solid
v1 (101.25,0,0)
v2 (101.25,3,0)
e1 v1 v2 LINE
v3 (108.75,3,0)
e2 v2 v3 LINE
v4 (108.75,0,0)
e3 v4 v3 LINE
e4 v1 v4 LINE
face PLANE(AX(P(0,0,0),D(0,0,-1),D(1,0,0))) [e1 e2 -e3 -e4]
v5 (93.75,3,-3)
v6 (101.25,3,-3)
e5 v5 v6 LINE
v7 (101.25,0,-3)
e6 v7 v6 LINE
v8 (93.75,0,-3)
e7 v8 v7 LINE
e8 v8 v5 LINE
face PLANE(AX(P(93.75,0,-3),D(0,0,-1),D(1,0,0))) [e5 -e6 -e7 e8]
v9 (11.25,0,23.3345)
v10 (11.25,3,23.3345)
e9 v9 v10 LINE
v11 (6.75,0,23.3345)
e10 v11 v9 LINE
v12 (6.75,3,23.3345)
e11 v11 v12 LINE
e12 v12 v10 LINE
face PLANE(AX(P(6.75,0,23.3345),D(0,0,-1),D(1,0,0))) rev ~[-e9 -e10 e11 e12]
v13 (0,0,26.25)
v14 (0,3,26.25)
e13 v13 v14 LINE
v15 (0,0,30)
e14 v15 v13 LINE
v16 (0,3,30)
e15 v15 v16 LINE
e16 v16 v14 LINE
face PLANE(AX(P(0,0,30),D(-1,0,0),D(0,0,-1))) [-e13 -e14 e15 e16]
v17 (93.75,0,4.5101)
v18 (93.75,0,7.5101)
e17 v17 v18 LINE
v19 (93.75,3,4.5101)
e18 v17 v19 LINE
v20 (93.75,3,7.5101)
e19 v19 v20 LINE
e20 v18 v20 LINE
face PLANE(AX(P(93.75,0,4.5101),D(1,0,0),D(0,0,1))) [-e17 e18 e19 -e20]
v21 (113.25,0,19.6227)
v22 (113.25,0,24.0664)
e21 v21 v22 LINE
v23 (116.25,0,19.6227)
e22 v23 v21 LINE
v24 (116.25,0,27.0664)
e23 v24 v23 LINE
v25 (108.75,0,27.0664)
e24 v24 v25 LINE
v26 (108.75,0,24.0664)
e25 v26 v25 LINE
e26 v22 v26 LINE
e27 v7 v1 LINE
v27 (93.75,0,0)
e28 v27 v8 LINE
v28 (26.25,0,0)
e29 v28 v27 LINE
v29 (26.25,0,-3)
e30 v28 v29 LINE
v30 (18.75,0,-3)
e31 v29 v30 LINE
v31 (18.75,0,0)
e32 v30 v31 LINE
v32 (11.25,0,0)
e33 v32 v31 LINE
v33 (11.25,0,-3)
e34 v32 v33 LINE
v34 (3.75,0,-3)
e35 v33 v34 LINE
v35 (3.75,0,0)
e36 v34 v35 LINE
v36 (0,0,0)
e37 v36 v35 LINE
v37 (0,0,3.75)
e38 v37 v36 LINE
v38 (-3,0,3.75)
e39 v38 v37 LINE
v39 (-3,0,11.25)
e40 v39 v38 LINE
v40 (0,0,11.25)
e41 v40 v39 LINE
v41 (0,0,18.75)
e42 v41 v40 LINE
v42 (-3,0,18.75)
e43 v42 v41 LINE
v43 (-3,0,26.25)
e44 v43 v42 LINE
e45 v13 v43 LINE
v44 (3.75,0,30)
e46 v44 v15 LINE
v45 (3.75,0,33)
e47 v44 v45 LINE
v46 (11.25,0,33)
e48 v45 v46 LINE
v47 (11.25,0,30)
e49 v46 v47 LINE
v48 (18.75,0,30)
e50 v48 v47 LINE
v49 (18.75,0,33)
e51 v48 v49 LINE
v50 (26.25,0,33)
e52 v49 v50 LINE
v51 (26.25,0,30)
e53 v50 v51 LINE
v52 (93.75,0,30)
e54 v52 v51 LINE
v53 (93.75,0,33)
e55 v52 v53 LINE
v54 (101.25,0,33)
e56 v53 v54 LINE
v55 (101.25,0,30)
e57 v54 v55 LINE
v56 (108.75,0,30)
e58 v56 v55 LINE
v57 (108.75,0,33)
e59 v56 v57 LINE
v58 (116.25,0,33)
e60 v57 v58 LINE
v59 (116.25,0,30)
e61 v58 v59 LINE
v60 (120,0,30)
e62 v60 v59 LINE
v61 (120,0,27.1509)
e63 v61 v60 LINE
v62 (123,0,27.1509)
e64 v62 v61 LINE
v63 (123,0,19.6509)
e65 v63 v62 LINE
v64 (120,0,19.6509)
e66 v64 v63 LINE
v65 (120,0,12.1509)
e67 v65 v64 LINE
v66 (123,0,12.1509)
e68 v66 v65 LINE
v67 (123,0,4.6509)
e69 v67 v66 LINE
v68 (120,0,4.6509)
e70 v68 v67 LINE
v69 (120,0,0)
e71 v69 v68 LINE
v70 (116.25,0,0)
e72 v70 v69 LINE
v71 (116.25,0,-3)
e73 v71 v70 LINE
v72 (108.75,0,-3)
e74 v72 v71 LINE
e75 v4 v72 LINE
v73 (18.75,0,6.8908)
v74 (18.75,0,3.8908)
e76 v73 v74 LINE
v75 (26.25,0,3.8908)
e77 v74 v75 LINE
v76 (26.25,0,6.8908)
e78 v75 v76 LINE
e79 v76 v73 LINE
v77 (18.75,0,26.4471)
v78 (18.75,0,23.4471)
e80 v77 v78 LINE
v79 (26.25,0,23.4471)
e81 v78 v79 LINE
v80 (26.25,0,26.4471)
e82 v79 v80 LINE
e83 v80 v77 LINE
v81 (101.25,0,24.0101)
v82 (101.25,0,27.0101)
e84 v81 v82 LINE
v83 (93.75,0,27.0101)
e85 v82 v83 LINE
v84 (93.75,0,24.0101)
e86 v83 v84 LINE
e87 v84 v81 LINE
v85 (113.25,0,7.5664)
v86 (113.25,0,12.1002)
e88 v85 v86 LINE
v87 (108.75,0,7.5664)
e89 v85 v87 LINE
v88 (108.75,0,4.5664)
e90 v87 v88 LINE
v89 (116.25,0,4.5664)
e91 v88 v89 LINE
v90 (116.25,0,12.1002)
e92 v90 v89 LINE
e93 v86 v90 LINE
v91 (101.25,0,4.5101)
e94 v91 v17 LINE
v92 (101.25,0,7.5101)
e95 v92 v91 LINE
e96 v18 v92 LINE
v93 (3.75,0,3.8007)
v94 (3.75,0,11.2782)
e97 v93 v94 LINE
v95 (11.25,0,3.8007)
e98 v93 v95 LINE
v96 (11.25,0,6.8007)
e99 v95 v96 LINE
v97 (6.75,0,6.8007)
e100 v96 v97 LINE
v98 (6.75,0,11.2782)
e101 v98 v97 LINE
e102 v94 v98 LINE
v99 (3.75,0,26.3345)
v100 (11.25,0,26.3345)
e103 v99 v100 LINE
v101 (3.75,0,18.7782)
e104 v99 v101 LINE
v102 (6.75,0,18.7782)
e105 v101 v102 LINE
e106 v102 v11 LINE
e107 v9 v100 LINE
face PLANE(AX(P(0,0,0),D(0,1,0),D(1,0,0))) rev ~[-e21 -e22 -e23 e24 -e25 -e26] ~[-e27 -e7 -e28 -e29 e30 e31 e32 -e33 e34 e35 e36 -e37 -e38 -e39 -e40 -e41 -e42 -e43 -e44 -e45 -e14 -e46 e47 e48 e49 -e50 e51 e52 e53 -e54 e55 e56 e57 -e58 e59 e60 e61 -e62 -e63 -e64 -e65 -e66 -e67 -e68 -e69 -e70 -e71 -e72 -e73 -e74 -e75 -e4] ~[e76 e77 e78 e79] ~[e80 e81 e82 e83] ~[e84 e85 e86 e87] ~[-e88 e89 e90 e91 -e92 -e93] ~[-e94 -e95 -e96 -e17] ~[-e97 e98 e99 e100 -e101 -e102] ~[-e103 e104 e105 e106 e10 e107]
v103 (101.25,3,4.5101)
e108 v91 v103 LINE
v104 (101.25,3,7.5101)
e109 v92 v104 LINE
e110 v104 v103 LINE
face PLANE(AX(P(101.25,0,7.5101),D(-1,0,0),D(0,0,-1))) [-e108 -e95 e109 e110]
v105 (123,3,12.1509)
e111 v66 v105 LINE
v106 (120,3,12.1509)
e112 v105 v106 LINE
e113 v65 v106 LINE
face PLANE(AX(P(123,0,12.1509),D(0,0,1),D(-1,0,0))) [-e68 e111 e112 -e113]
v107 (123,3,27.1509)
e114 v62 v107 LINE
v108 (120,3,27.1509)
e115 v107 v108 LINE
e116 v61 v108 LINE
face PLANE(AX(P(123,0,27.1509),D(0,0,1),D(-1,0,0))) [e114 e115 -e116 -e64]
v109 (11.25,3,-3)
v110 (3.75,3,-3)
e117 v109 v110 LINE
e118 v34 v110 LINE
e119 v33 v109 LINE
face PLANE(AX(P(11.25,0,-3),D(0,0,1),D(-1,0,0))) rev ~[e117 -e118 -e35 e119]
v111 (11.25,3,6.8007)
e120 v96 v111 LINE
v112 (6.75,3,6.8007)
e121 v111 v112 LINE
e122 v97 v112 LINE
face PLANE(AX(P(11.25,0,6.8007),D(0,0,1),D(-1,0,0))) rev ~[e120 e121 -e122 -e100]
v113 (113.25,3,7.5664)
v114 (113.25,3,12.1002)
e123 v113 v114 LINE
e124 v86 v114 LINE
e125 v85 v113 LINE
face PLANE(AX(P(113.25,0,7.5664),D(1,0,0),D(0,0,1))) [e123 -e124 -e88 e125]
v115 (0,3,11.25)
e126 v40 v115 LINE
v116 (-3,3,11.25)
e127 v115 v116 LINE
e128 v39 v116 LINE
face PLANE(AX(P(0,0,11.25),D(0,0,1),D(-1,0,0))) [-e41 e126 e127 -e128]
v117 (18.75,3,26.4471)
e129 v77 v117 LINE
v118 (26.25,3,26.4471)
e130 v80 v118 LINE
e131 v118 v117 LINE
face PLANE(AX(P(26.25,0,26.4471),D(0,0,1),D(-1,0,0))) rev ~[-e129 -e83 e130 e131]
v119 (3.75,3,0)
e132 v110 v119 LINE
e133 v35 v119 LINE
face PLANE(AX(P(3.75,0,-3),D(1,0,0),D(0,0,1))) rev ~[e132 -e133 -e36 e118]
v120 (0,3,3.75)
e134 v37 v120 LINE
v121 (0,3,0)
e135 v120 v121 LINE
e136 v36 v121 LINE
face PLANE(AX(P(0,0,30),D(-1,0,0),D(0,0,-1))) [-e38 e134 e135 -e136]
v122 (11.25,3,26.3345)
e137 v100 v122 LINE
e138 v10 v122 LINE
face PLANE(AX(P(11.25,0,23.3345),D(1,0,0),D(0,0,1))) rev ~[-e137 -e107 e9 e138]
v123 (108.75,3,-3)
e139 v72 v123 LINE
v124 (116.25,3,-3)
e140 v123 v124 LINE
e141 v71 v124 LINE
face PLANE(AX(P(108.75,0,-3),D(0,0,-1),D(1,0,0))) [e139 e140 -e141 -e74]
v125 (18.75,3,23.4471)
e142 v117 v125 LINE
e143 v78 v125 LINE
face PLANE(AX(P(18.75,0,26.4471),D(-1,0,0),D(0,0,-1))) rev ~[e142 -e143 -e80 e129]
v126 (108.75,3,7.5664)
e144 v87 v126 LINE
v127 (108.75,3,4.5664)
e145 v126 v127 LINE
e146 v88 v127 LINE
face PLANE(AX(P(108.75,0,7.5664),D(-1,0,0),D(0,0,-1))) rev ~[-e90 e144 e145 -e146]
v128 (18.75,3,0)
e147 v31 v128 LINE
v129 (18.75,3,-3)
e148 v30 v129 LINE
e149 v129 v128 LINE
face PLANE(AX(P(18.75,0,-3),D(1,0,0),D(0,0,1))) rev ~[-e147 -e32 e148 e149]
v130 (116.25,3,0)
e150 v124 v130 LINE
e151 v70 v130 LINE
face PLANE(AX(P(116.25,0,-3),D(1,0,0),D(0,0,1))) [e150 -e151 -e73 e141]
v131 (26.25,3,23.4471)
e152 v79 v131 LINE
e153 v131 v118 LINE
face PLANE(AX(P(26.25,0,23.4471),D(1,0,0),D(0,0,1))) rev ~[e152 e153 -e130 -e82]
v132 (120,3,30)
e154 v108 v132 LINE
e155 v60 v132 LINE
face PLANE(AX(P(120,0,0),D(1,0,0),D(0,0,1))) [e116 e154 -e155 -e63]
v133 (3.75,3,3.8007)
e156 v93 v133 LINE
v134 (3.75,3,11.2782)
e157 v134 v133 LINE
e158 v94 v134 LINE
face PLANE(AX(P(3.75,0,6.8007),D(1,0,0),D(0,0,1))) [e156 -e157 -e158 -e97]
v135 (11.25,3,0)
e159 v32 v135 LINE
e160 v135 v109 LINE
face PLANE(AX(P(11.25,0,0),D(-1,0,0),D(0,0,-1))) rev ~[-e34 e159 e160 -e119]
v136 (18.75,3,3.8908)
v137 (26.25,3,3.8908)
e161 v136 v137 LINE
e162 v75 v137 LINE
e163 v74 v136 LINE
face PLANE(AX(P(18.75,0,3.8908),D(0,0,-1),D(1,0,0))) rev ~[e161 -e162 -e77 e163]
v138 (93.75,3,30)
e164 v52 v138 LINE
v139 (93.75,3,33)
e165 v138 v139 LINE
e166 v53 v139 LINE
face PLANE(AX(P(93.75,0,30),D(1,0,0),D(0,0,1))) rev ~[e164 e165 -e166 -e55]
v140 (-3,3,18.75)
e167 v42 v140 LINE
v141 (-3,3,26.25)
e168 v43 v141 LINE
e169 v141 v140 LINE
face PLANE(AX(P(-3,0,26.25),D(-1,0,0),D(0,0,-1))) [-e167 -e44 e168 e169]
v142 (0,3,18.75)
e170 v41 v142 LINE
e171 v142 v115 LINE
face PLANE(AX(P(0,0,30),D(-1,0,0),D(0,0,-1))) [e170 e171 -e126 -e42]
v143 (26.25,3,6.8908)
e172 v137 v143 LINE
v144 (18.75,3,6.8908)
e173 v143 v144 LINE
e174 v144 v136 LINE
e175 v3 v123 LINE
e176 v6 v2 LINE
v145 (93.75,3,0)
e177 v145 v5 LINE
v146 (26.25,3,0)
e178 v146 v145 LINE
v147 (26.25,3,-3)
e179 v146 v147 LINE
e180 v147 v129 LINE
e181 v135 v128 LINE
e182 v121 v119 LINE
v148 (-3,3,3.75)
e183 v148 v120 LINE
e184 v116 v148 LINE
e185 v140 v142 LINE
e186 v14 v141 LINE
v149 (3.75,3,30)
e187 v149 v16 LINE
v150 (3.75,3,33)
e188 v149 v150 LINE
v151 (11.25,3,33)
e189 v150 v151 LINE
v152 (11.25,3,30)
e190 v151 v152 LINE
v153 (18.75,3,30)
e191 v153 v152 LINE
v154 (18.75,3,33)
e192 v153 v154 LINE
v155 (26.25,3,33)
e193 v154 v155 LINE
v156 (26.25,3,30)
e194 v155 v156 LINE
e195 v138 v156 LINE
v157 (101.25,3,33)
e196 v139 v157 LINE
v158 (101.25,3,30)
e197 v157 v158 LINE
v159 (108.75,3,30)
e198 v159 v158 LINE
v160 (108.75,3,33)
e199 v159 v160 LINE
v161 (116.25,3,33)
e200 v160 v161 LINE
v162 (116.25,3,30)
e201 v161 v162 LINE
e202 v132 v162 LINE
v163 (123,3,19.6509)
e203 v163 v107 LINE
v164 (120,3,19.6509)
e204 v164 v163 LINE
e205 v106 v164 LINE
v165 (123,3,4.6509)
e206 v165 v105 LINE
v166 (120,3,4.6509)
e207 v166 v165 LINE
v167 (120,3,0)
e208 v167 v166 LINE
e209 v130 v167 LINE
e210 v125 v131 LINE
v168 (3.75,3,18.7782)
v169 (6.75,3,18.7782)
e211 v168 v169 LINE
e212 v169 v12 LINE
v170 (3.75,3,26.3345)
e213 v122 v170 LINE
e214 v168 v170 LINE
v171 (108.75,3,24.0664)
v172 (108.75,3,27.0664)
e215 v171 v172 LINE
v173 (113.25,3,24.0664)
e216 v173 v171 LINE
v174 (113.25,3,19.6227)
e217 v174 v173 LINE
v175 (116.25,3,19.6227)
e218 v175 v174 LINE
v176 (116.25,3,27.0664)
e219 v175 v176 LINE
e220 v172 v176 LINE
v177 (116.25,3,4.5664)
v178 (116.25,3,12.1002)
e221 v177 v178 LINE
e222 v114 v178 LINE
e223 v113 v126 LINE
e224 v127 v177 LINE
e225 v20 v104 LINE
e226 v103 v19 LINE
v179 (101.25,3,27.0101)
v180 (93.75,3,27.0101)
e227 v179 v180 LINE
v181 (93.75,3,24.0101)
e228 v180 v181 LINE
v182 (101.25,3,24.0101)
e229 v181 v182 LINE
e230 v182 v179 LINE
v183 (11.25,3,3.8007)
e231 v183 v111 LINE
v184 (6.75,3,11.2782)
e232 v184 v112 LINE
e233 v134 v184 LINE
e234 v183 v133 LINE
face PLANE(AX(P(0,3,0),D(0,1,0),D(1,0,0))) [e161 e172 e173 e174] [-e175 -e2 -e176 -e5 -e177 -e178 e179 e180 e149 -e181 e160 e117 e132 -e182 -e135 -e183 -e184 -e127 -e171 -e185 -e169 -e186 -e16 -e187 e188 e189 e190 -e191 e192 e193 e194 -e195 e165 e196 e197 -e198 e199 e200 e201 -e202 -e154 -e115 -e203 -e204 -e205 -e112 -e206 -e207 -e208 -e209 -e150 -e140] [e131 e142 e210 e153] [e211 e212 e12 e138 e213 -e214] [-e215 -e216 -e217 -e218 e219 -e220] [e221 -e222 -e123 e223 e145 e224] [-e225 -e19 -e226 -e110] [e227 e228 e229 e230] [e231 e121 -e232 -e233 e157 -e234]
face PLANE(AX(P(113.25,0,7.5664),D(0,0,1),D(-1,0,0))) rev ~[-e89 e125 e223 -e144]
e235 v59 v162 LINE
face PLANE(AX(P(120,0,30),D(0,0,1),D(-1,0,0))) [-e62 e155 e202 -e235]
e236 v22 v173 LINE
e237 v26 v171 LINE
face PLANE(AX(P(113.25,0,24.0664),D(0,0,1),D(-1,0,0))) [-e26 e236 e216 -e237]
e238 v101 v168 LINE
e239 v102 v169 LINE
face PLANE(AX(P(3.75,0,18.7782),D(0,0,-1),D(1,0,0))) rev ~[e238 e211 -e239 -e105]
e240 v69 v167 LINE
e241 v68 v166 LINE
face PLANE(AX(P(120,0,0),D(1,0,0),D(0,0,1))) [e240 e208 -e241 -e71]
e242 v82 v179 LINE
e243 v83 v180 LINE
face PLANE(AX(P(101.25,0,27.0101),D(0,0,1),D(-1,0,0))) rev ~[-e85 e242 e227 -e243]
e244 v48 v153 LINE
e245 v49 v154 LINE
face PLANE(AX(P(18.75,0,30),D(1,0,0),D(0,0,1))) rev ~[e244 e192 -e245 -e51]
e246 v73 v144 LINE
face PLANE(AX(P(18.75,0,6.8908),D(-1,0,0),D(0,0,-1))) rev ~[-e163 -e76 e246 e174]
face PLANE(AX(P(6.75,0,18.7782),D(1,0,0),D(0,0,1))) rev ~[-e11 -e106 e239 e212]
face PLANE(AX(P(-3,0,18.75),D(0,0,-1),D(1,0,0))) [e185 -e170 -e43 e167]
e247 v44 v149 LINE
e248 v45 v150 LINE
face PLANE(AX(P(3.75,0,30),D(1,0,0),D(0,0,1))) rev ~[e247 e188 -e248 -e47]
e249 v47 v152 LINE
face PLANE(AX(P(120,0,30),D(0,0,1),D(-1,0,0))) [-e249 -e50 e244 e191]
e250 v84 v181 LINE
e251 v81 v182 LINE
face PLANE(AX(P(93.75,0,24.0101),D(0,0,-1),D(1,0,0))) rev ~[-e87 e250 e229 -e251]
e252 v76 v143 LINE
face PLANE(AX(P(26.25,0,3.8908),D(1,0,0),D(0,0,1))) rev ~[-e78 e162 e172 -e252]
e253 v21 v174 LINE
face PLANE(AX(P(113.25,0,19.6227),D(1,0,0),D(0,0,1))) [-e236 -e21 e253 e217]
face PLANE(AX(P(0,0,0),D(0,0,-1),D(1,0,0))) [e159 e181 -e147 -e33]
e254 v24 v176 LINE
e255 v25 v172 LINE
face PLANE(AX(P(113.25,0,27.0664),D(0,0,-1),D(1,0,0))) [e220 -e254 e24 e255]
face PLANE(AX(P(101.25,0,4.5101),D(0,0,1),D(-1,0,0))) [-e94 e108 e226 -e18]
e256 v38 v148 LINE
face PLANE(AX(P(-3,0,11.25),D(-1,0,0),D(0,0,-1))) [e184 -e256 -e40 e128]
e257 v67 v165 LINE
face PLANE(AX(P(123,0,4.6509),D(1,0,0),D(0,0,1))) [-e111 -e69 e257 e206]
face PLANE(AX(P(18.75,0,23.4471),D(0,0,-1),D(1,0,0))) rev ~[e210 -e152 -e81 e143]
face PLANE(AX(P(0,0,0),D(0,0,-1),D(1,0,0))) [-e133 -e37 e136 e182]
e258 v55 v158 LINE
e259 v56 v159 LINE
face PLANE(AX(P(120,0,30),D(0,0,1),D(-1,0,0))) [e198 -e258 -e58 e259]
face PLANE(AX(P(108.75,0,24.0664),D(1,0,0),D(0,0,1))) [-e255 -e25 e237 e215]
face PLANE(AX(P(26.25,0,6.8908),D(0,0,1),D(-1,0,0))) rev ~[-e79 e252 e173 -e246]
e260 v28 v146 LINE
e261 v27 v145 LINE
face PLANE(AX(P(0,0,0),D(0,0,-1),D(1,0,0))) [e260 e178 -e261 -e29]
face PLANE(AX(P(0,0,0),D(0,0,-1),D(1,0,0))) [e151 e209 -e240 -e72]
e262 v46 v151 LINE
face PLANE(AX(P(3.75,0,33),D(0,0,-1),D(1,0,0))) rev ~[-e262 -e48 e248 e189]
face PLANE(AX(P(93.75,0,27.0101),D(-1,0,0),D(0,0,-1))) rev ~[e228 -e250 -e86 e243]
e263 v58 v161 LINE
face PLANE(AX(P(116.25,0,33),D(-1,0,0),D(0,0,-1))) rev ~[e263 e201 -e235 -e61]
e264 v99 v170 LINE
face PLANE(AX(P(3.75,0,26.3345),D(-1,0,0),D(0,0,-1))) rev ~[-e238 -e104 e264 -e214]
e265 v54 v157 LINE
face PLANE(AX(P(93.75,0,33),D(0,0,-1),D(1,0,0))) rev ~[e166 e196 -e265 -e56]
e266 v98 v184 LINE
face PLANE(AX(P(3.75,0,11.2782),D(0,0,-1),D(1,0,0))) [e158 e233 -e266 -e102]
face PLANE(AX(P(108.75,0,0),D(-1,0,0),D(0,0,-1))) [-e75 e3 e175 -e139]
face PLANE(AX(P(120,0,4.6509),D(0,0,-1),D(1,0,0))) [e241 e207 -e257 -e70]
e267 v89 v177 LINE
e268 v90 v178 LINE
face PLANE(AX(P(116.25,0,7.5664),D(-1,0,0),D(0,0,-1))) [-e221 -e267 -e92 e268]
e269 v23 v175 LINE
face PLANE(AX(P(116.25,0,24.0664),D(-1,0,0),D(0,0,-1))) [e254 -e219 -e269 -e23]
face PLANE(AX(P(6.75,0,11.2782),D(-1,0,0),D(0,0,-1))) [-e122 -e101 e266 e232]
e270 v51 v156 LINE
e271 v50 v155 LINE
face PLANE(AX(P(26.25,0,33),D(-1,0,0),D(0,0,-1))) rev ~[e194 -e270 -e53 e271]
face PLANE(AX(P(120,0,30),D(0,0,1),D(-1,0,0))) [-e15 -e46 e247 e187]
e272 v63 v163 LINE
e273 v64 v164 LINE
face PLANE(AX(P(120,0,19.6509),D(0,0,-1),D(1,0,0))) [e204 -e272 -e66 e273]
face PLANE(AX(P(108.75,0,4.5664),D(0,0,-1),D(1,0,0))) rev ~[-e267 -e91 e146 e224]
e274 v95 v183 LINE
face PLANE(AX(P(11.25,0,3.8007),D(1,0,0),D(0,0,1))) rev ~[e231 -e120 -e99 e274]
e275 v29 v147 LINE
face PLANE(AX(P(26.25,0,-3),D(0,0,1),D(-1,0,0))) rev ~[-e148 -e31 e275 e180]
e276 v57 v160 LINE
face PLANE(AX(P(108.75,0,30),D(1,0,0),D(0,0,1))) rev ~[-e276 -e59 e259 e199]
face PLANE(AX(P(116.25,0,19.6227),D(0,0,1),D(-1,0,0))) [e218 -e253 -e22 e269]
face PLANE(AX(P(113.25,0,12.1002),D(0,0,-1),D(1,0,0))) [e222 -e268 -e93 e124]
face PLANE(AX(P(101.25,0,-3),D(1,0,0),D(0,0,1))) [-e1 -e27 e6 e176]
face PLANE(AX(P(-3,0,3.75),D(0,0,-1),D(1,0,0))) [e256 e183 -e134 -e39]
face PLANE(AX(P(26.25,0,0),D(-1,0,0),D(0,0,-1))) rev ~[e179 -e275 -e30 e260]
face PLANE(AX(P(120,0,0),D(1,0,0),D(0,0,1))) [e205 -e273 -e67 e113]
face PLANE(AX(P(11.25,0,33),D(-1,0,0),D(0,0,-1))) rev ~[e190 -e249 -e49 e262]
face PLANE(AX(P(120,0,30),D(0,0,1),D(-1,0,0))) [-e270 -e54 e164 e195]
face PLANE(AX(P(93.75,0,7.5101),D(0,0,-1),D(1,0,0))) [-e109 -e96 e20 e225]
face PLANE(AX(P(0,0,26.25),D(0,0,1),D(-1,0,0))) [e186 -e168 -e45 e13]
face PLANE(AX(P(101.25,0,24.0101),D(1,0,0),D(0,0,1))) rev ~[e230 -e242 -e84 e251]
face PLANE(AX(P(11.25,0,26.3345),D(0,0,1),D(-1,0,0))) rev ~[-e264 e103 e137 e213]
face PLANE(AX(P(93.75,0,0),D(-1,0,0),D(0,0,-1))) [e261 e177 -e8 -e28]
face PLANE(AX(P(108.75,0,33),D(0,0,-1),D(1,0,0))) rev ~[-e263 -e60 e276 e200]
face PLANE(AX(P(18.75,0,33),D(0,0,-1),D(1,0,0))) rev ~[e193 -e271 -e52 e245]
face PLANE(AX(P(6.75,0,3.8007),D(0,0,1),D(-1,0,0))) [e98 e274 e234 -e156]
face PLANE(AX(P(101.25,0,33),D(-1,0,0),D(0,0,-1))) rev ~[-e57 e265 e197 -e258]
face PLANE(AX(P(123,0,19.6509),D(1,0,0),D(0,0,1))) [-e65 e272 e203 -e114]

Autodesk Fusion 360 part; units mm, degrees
sketch "Sketch1" plane through (0, 0, 0) normal (0, 1, 0) x (1, 0, 0)
  line L0 (0, 0) -> (120, 0)
  line L1 (120, 0) -> (120, -30)
  line L2 (120, -30) -> (0, -30)
  line L3 (0, -30) -> (0, 0)
  dimension "d3" = 120
  dimension "d4" = 30
extrude "Extrude1" add sketch "Sketch1" along normal blind 3
sketch "Sketch3" plane through (0, 0, 0) normal (0, 1, 0) x (1, 0, 0)
  line L0 (120, -30) -> (0, -30)
  line L1 (0, -30) -> (0, 0)
  line L2 (0, 0) -> (120, 0)
  line L3 (120, 0) -> (120, -30)
  line L4 (0, -26.25) -> (-3, -26.25)
  line L5 (-3, -26.25) -> (-3, -18.75)
  line L6 (-3, -18.75) -> (0, -18.75)
  line L7 (0, -18.75) -> (0, -26.25)
  line L8 (0, -11.25) -> (-3, -11.25)
  line L9 (-3, -11.25) -> (-3, -3.75)
  line L10 (-3, -3.75) -> (0, -3.75)
  line L11 (0, -3.75) -> (0, -11.25)
  line L12 (3.75, 0) -> (11.25, 0)
  line L13 (11.25, 0) -> (11.25, 3)
  line L14 (11.25, 3) -> (3.75, 3)
  line L15 (3.75, 3) -> (3.75, 0)
  line L16 (18.75, 0) -> (26.25, 0)
  line L17 (26.25, 0) -> (26.25, 3)
  line L18 (26.25, 3) -> (18.75, 3)
  line L19 (18.75, 3) -> (18.75, 0)
  line L20 (116.25, 0) -> (108.75, 0)
  line L21 (108.75, 0) -> (108.75, 3)
  line L22 (108.75, 3) -> (116.25, 3)
  line L23 (116.25, 3) -> (116.25, 0)
  line L24 (101.25, 0) -> (93.75, 0)
  line L25 (93.75, 0) -> (93.75, 3)
  line L26 (93.75, 3) -> (101.25, 3)
  line L27 (101.25, 3) -> (101.25, 0)
  line L28 (120, -4.6509) -> (123, -4.6509)
  line L29 (123, -4.6509) -> (123, -12.1509)
  line L30 (123, -12.1509) -> (120, -12.1509)
  line L31 (120, -12.1509) -> (120, -4.6509)
  line L32 (120, -19.6509) -> (123, -19.6509)
  line L33 (123, -19.6509) -> (123, -27.1509)
  line L34 (123, -27.1509) -> (120, -27.1509)
  line L35 (120, -27.1509) -> (120, -19.6509)
  line L36 (116.25, -30) -> (108.75, -30)
  line L37 (108.75, -30) -> (108.75, -33)
  line L38 (108.75, -33) -> (116.25, -33)
  line L39 (116.25, -33) -> (116.25, -30)
  line L40 (101.25, -30) -> (93.75, -30)
  line L41 (93.75, -30) -> (93.75, -33)
  line L42 (93.75, -33) -> (101.25, -33)
  line L43 (101.25, -33) -> (101.25, -30)
  line L44 (26.25, -30) -> (18.75, -30)
  line L45 (18.75, -30) -> (18.75, -33)
  line L46 (18.75, -33) -> (26.25, -33)
  line L47 (26.25, -33) -> (26.25, -30)
  line L48 (11.25, -30) -> (3.75, -30)
  line L49 (3.75, -30) -> (3.75, -33)
  line L50 (3.75, -33) -> (11.25, -33)
  line L51 (11.25, -33) -> (11.25, -30)
  line L52 (3.75, 3) -> (0, 3) construction
  line L53 (11.25, 3) -> (18.75, 3) construction
  line L54 (101.25, 3) -> (108.75, 3) construction
  line L55 (116.25, 3) -> (120, 3) construction
  line L56 (120, 0) -> (120, -4.6509) construction
  line L57 (123, -12.1509) -> (123, -19.6509) construction
  line L58 (108.75, -33) -> (101.25, -33) construction
  line L59 (120, -30) -> (116.25, -30) construction
  dimension "d10" = 3
  dimension "d11" = 7.5
  dimension "d13" = 3
  dimension "d14" = 3.75
  dimension "d15" = 3.75
  dimension "d16" = 7.5
  dimension "d17" = 7.5
  dimension "d18" = 3.75
  dimension "d19" = 3.75
  dimension "d20" = 7.5
  dimension "d21" = 7.5
  dimension "d22" = 3.75
  dimension "d23" = 7.5
  dimension "d24" = 7.5
  dimension "d25" = 3.75
extrude "Extrude2" add sketch "Sketch3" along normal blind 3 contours L0 L36 L37 L38 L39 | L3 L32 L33 L34 L35 | L0 L40 L41 L42 L43 | L3 L28 L29 L30 L31 | L0 L44 L45 L46 L47 | L2 L20 L21 L22 L23 | L0 L48 L49 L50 L51 | L2 L24 L25 L26 L27 | L1 L4 L5 L6 L7 | L2 L16 L17 L18 L19 | L1 L8 L9 L10 L11 | L2 L12 L13 L14 L15
sketch "Sketch4" plane through (0, 0, 0) normal (0, 1, 0) x (1, 0, 0)
  line L0 (120, -30) -> (116.25, -30)
  line L1 (116.25, -30) -> (116.25, -33)
  line L2 (116.25, -33) -> (108.75, -33)
  line L3 (108.75, -33) -> (108.75, -30)
  line L4 (108.75, -30) -> (101.25, -30)
  line L5 (101.25, -30) -> (101.25, -33)
  line L6 (101.25, -33) -> (93.75, -33)
  line L7 (93.75, -33) -> (93.75, -30)
  line L8 (93.75, -30) -> (26.25, -30)
  line L9 (26.25, -30) -> (26.25, -33)
  line L10 (26.25, -33) -> (18.75, -33)
  line L11 (18.75, -33) -> (18.75, -30)
  line L12 (18.75, -30) -> (11.25, -30)
  line L13 (11.25, -30) -> (11.25, -33)
  line L14 (11.25, -33) -> (3.75, -33)
  line L15 (3.75, -33) -> (3.75, -30)
  line L16 (3.75, -30) -> (0, -30)
  line L17 (0, -30) -> (0, -26.25)
  line L18 (0, -26.25) -> (-3, -26.25)
  line L19 (-3, -26.25) -> (-3, -18.75)
  line L20 (-3, -18.75) -> (0, -18.75)
  line L21 (0, -18.75) -> (0, -11.25)
  line L22 (0, -11.25) -> (-3, -11.25)
  line L23 (-3, -11.25) -> (-3, -3.75)
  line L24 (-3, -3.75) -> (0, -3.75)
  line L25 (0, -3.75) -> (0, 0)
  line L26 (0, 0) -> (3.75, 0)
  line L27 (3.75, 0) -> (3.75, 3)
  line L28 (3.75, 3) -> (11.25, 3)
  line L29 (11.25, 3) -> (11.25, 0)
  line L30 (11.25, 0) -> (18.75, 0)
  line L31 (18.75, 0) -> (18.75, 3)
  line L32 (18.75, 3) -> (26.25, 3)
  line L33 (26.25, 3) -> (26.25, 0)
  line L34 (26.25, 0) -> (93.75, 0)
  line L35 (93.75, 0) -> (93.75, 3)
  line L36 (93.75, 3) -> (101.25, 3)
  line L37 (101.25, 3) -> (101.25, 0)
  line L38 (101.25, 0) -> (108.75, 0)
  line L39 (108.75, 0) -> (108.75, 3)
  line L40 (108.75, 3) -> (116.25, 3)
  line L41 (116.25, 3) -> (116.25, 0)
  line L42 (116.25, 0) -> (120, 0)
  line L43 (120, 0) -> (120, -4.6509)
  line L44 (120, -4.6509) -> (123, -4.6509)
  line L45 (123, -4.6509) -> (123, -12.1509)
  line L46 (123, -12.1509) -> (120, -12.1509)
  line L47 (120, -12.1509) -> (120, -19.6509)
  line L48 (120, -19.6509) -> (123, -19.6509)
  line L49 (123, -19.6509) -> (123, -27.1509)
  line L50 (123, -27.1509) -> (120, -27.1509)
  line L51 (120, -27.1509) -> (120, -30)
  line L52 (116.25, 0) -> (116.25, -30) construction
  line L53 (120, -27.1509) -> (0, -26.25) construction
  line L54 (0, -18.75) -> (120, -19.6509) construction
  line L55 (120, -12.1509) -> (0, -11.25) construction
  line L56 (0, -3.75) -> (120, -4.6509) construction
  line L57 (108.75, 0) -> (108.75, -30) construction
  line L58 (101.25, -30) -> (101.25, 0) construction
  line L59 (93.75, 0) -> (93.75, -30) construction
  line L60 (26.25, -30) -> (26.25, 0) construction
  line L61 (18.75, 0) -> (18.75, -30) construction
  line L62 (11.25, -30) -> (11.25, 0) construction
  line L63 (3.75, 0) -> (3.75, -30) construction
  line L64 (116.25, -4.6227) -> (113.25, -4.6227)
  line L65 (113.25, -4.6227) -> (113.25, -12.1002)
  line L66 (113.25, -12.1002) -> (116.25, -12.1002)
  line L67 (116.25, -12.1002) -> (116.25, -4.6227)
  line L68 (108.75, -4.5664) -> (116.25, -4.5664)
  line L69 (116.25, -4.5664) -> (116.25, -7.5664)
  line L70 (116.25, -7.5664) -> (108.75, -7.5664)
  line L71 (108.75, -7.5664) -> (108.75, -4.5664)
  line L72 (101.25, -4.5101) -> (93.75, -4.5101)
  line L73 (93.75, -4.5101) -> (93.75, -7.5101)
  line L74 (93.75, -7.5101) -> (101.25, -7.5101)
  line L75 (101.25, -7.5101) -> (101.25, -4.5101)
  line L76 (116.25, -19.6227) -> (113.25, -19.6227)
  line L77 (113.25, -19.6227) -> (113.25, -27.1002)
  line L78 (113.25, -27.1002) -> (116.25, -27.1002)
  line L79 (116.25, -27.1002) -> (116.25, -19.6227)
  line L80 (108.75, -27.0664) -> (116.25, -27.0664)
  line L81 (116.25, -27.0664) -> (116.25, -24.0664)
  line L82 (116.25, -24.0664) -> (108.75, -24.0664)
  line L83 (108.75, -24.0664) -> (108.75, -27.0664)
  line L84 (101.25, -27.0101) -> (93.75, -27.0101)
  line L85 (93.75, -27.0101) -> (93.75, -24.0101)
  line L86 (93.75, -24.0101) -> (101.25, -24.0101)
  line L87 (101.25, -24.0101) -> (101.25, -27.0101)
  line L88 (26.25, -26.4471) -> (18.75, -26.4471)
  line L89 (18.75, -26.4471) -> (18.75, -23.4471)
  line L90 (18.75, -23.4471) -> (26.25, -23.4471)
  line L91 (26.25, -23.4471) -> (26.25, -26.4471)
  line L92 (11.25, -26.3345) -> (3.75, -26.3345)
  line L93 (3.75, -26.3345) -> (3.75, -23.3345)
  line L94 (3.75, -23.3345) -> (11.25, -23.3345)
  line L95 (11.25, -23.3345) -> (11.25, -26.3345)
  line L96 (3.75, -18.7782) -> (6.75, -18.7782)
  line L97 (6.75, -18.7782) -> (6.75, -26.3345)
  line L98 (6.75, -26.3345) -> (3.75, -26.3345)
  line L99 (3.75, -26.3345) -> (3.75, -18.7782)
  line L100 (3.75, -11.2782) -> (6.75, -11.2782)
  line L101 (6.75, -11.2782) -> (6.75, -3.8007)
  line L102 (6.75, -3.8007) -> (3.75, -3.8007)
  line L103 (3.75, -3.8007) -> (3.75, -11.2782)
  line L104 (3.75, -3.8007) -> (11.25, -3.8007)
  line L105 (11.25, -3.8007) -> (11.25, -6.8007)
  line L106 (11.25, -6.8007) -> (3.75, -6.8007)
  line L107 (3.75, -6.8007) -> (3.75, -3.8007)
  line L108 (18.75, -3.8908) -> (26.25, -3.8908)
  line L109 (26.25, -3.8908) -> (26.25, -6.8908)
  line L110 (26.25, -6.8908) -> (18.75, -6.8908)
  line L111 (18.75, -6.8908) -> (18.75, -3.8908)
  dimension "d28" = 3
  dimension "d29" = 3
  dimension "d30" = 3
  dimension "d31" = 3
  dimension "d32" = 3
  dimension "d33" = 3
extrude "Extrude3" cut sketch "Sketch4" along normal up to surface (3 mm away) contours L64 L65 L67 L69 L70 | L64 L65 L68 L69 L70 L71 | L65 L66 L67 L70 | L72 L73 L74 L75 | L76 L77 L79 L82 | L77 L79 L80 L81 L82 | L77 L80 L82 L83 | L84 L85 L86 L87 | L88 L89 L90 L91 | L92 L94 L95 L97 | L92 L93 L94 L97 L98 L99 | L94 L96 L97 L99 | L100 L101 L103 L106 | L101 L102 L103 L104 L106 L107 | L101 L104 L105 L106 | L108 L109 L110 L111
equation "main_length = 120 mm"
equation "main_width = 30 mm"
equation "d3 = main_length"
equation "d4 = main_width"
equation "material_thickness = 3 mm"
equation "d6 = material_thickness"
equation "fit_length = 7.5 mm"
equation "fit_spacing = 7.5 mm"
equation "d10 = material_thickness"
equation "d11 = fit_length"
equation "d13 = material_thickness"
equation "d14 = fit_spacing / 2"
equation "d15 = fit_spacing / 2"
equation "d16 = fit_spacing"
equation "d17 = fit_spacing"
equation "d19 = fit_spacing / 2"
equation "d20 = fit_spacing"
equation "d21 = fit_spacing"
equation "d22 = fit_spacing / 2"
equation "d23 = fit_spacing"
equation "d24 = fit_spacing"
equation "d25 = fit_spacing / 2"
equation "d28 = material_thickness"
equation "d29 = material_thickness"
equation "d30 = material_thickness"
equation "d31 = material_thickness"
equation "d32 = material_thickness"
equation "d33 = material_thickness"
